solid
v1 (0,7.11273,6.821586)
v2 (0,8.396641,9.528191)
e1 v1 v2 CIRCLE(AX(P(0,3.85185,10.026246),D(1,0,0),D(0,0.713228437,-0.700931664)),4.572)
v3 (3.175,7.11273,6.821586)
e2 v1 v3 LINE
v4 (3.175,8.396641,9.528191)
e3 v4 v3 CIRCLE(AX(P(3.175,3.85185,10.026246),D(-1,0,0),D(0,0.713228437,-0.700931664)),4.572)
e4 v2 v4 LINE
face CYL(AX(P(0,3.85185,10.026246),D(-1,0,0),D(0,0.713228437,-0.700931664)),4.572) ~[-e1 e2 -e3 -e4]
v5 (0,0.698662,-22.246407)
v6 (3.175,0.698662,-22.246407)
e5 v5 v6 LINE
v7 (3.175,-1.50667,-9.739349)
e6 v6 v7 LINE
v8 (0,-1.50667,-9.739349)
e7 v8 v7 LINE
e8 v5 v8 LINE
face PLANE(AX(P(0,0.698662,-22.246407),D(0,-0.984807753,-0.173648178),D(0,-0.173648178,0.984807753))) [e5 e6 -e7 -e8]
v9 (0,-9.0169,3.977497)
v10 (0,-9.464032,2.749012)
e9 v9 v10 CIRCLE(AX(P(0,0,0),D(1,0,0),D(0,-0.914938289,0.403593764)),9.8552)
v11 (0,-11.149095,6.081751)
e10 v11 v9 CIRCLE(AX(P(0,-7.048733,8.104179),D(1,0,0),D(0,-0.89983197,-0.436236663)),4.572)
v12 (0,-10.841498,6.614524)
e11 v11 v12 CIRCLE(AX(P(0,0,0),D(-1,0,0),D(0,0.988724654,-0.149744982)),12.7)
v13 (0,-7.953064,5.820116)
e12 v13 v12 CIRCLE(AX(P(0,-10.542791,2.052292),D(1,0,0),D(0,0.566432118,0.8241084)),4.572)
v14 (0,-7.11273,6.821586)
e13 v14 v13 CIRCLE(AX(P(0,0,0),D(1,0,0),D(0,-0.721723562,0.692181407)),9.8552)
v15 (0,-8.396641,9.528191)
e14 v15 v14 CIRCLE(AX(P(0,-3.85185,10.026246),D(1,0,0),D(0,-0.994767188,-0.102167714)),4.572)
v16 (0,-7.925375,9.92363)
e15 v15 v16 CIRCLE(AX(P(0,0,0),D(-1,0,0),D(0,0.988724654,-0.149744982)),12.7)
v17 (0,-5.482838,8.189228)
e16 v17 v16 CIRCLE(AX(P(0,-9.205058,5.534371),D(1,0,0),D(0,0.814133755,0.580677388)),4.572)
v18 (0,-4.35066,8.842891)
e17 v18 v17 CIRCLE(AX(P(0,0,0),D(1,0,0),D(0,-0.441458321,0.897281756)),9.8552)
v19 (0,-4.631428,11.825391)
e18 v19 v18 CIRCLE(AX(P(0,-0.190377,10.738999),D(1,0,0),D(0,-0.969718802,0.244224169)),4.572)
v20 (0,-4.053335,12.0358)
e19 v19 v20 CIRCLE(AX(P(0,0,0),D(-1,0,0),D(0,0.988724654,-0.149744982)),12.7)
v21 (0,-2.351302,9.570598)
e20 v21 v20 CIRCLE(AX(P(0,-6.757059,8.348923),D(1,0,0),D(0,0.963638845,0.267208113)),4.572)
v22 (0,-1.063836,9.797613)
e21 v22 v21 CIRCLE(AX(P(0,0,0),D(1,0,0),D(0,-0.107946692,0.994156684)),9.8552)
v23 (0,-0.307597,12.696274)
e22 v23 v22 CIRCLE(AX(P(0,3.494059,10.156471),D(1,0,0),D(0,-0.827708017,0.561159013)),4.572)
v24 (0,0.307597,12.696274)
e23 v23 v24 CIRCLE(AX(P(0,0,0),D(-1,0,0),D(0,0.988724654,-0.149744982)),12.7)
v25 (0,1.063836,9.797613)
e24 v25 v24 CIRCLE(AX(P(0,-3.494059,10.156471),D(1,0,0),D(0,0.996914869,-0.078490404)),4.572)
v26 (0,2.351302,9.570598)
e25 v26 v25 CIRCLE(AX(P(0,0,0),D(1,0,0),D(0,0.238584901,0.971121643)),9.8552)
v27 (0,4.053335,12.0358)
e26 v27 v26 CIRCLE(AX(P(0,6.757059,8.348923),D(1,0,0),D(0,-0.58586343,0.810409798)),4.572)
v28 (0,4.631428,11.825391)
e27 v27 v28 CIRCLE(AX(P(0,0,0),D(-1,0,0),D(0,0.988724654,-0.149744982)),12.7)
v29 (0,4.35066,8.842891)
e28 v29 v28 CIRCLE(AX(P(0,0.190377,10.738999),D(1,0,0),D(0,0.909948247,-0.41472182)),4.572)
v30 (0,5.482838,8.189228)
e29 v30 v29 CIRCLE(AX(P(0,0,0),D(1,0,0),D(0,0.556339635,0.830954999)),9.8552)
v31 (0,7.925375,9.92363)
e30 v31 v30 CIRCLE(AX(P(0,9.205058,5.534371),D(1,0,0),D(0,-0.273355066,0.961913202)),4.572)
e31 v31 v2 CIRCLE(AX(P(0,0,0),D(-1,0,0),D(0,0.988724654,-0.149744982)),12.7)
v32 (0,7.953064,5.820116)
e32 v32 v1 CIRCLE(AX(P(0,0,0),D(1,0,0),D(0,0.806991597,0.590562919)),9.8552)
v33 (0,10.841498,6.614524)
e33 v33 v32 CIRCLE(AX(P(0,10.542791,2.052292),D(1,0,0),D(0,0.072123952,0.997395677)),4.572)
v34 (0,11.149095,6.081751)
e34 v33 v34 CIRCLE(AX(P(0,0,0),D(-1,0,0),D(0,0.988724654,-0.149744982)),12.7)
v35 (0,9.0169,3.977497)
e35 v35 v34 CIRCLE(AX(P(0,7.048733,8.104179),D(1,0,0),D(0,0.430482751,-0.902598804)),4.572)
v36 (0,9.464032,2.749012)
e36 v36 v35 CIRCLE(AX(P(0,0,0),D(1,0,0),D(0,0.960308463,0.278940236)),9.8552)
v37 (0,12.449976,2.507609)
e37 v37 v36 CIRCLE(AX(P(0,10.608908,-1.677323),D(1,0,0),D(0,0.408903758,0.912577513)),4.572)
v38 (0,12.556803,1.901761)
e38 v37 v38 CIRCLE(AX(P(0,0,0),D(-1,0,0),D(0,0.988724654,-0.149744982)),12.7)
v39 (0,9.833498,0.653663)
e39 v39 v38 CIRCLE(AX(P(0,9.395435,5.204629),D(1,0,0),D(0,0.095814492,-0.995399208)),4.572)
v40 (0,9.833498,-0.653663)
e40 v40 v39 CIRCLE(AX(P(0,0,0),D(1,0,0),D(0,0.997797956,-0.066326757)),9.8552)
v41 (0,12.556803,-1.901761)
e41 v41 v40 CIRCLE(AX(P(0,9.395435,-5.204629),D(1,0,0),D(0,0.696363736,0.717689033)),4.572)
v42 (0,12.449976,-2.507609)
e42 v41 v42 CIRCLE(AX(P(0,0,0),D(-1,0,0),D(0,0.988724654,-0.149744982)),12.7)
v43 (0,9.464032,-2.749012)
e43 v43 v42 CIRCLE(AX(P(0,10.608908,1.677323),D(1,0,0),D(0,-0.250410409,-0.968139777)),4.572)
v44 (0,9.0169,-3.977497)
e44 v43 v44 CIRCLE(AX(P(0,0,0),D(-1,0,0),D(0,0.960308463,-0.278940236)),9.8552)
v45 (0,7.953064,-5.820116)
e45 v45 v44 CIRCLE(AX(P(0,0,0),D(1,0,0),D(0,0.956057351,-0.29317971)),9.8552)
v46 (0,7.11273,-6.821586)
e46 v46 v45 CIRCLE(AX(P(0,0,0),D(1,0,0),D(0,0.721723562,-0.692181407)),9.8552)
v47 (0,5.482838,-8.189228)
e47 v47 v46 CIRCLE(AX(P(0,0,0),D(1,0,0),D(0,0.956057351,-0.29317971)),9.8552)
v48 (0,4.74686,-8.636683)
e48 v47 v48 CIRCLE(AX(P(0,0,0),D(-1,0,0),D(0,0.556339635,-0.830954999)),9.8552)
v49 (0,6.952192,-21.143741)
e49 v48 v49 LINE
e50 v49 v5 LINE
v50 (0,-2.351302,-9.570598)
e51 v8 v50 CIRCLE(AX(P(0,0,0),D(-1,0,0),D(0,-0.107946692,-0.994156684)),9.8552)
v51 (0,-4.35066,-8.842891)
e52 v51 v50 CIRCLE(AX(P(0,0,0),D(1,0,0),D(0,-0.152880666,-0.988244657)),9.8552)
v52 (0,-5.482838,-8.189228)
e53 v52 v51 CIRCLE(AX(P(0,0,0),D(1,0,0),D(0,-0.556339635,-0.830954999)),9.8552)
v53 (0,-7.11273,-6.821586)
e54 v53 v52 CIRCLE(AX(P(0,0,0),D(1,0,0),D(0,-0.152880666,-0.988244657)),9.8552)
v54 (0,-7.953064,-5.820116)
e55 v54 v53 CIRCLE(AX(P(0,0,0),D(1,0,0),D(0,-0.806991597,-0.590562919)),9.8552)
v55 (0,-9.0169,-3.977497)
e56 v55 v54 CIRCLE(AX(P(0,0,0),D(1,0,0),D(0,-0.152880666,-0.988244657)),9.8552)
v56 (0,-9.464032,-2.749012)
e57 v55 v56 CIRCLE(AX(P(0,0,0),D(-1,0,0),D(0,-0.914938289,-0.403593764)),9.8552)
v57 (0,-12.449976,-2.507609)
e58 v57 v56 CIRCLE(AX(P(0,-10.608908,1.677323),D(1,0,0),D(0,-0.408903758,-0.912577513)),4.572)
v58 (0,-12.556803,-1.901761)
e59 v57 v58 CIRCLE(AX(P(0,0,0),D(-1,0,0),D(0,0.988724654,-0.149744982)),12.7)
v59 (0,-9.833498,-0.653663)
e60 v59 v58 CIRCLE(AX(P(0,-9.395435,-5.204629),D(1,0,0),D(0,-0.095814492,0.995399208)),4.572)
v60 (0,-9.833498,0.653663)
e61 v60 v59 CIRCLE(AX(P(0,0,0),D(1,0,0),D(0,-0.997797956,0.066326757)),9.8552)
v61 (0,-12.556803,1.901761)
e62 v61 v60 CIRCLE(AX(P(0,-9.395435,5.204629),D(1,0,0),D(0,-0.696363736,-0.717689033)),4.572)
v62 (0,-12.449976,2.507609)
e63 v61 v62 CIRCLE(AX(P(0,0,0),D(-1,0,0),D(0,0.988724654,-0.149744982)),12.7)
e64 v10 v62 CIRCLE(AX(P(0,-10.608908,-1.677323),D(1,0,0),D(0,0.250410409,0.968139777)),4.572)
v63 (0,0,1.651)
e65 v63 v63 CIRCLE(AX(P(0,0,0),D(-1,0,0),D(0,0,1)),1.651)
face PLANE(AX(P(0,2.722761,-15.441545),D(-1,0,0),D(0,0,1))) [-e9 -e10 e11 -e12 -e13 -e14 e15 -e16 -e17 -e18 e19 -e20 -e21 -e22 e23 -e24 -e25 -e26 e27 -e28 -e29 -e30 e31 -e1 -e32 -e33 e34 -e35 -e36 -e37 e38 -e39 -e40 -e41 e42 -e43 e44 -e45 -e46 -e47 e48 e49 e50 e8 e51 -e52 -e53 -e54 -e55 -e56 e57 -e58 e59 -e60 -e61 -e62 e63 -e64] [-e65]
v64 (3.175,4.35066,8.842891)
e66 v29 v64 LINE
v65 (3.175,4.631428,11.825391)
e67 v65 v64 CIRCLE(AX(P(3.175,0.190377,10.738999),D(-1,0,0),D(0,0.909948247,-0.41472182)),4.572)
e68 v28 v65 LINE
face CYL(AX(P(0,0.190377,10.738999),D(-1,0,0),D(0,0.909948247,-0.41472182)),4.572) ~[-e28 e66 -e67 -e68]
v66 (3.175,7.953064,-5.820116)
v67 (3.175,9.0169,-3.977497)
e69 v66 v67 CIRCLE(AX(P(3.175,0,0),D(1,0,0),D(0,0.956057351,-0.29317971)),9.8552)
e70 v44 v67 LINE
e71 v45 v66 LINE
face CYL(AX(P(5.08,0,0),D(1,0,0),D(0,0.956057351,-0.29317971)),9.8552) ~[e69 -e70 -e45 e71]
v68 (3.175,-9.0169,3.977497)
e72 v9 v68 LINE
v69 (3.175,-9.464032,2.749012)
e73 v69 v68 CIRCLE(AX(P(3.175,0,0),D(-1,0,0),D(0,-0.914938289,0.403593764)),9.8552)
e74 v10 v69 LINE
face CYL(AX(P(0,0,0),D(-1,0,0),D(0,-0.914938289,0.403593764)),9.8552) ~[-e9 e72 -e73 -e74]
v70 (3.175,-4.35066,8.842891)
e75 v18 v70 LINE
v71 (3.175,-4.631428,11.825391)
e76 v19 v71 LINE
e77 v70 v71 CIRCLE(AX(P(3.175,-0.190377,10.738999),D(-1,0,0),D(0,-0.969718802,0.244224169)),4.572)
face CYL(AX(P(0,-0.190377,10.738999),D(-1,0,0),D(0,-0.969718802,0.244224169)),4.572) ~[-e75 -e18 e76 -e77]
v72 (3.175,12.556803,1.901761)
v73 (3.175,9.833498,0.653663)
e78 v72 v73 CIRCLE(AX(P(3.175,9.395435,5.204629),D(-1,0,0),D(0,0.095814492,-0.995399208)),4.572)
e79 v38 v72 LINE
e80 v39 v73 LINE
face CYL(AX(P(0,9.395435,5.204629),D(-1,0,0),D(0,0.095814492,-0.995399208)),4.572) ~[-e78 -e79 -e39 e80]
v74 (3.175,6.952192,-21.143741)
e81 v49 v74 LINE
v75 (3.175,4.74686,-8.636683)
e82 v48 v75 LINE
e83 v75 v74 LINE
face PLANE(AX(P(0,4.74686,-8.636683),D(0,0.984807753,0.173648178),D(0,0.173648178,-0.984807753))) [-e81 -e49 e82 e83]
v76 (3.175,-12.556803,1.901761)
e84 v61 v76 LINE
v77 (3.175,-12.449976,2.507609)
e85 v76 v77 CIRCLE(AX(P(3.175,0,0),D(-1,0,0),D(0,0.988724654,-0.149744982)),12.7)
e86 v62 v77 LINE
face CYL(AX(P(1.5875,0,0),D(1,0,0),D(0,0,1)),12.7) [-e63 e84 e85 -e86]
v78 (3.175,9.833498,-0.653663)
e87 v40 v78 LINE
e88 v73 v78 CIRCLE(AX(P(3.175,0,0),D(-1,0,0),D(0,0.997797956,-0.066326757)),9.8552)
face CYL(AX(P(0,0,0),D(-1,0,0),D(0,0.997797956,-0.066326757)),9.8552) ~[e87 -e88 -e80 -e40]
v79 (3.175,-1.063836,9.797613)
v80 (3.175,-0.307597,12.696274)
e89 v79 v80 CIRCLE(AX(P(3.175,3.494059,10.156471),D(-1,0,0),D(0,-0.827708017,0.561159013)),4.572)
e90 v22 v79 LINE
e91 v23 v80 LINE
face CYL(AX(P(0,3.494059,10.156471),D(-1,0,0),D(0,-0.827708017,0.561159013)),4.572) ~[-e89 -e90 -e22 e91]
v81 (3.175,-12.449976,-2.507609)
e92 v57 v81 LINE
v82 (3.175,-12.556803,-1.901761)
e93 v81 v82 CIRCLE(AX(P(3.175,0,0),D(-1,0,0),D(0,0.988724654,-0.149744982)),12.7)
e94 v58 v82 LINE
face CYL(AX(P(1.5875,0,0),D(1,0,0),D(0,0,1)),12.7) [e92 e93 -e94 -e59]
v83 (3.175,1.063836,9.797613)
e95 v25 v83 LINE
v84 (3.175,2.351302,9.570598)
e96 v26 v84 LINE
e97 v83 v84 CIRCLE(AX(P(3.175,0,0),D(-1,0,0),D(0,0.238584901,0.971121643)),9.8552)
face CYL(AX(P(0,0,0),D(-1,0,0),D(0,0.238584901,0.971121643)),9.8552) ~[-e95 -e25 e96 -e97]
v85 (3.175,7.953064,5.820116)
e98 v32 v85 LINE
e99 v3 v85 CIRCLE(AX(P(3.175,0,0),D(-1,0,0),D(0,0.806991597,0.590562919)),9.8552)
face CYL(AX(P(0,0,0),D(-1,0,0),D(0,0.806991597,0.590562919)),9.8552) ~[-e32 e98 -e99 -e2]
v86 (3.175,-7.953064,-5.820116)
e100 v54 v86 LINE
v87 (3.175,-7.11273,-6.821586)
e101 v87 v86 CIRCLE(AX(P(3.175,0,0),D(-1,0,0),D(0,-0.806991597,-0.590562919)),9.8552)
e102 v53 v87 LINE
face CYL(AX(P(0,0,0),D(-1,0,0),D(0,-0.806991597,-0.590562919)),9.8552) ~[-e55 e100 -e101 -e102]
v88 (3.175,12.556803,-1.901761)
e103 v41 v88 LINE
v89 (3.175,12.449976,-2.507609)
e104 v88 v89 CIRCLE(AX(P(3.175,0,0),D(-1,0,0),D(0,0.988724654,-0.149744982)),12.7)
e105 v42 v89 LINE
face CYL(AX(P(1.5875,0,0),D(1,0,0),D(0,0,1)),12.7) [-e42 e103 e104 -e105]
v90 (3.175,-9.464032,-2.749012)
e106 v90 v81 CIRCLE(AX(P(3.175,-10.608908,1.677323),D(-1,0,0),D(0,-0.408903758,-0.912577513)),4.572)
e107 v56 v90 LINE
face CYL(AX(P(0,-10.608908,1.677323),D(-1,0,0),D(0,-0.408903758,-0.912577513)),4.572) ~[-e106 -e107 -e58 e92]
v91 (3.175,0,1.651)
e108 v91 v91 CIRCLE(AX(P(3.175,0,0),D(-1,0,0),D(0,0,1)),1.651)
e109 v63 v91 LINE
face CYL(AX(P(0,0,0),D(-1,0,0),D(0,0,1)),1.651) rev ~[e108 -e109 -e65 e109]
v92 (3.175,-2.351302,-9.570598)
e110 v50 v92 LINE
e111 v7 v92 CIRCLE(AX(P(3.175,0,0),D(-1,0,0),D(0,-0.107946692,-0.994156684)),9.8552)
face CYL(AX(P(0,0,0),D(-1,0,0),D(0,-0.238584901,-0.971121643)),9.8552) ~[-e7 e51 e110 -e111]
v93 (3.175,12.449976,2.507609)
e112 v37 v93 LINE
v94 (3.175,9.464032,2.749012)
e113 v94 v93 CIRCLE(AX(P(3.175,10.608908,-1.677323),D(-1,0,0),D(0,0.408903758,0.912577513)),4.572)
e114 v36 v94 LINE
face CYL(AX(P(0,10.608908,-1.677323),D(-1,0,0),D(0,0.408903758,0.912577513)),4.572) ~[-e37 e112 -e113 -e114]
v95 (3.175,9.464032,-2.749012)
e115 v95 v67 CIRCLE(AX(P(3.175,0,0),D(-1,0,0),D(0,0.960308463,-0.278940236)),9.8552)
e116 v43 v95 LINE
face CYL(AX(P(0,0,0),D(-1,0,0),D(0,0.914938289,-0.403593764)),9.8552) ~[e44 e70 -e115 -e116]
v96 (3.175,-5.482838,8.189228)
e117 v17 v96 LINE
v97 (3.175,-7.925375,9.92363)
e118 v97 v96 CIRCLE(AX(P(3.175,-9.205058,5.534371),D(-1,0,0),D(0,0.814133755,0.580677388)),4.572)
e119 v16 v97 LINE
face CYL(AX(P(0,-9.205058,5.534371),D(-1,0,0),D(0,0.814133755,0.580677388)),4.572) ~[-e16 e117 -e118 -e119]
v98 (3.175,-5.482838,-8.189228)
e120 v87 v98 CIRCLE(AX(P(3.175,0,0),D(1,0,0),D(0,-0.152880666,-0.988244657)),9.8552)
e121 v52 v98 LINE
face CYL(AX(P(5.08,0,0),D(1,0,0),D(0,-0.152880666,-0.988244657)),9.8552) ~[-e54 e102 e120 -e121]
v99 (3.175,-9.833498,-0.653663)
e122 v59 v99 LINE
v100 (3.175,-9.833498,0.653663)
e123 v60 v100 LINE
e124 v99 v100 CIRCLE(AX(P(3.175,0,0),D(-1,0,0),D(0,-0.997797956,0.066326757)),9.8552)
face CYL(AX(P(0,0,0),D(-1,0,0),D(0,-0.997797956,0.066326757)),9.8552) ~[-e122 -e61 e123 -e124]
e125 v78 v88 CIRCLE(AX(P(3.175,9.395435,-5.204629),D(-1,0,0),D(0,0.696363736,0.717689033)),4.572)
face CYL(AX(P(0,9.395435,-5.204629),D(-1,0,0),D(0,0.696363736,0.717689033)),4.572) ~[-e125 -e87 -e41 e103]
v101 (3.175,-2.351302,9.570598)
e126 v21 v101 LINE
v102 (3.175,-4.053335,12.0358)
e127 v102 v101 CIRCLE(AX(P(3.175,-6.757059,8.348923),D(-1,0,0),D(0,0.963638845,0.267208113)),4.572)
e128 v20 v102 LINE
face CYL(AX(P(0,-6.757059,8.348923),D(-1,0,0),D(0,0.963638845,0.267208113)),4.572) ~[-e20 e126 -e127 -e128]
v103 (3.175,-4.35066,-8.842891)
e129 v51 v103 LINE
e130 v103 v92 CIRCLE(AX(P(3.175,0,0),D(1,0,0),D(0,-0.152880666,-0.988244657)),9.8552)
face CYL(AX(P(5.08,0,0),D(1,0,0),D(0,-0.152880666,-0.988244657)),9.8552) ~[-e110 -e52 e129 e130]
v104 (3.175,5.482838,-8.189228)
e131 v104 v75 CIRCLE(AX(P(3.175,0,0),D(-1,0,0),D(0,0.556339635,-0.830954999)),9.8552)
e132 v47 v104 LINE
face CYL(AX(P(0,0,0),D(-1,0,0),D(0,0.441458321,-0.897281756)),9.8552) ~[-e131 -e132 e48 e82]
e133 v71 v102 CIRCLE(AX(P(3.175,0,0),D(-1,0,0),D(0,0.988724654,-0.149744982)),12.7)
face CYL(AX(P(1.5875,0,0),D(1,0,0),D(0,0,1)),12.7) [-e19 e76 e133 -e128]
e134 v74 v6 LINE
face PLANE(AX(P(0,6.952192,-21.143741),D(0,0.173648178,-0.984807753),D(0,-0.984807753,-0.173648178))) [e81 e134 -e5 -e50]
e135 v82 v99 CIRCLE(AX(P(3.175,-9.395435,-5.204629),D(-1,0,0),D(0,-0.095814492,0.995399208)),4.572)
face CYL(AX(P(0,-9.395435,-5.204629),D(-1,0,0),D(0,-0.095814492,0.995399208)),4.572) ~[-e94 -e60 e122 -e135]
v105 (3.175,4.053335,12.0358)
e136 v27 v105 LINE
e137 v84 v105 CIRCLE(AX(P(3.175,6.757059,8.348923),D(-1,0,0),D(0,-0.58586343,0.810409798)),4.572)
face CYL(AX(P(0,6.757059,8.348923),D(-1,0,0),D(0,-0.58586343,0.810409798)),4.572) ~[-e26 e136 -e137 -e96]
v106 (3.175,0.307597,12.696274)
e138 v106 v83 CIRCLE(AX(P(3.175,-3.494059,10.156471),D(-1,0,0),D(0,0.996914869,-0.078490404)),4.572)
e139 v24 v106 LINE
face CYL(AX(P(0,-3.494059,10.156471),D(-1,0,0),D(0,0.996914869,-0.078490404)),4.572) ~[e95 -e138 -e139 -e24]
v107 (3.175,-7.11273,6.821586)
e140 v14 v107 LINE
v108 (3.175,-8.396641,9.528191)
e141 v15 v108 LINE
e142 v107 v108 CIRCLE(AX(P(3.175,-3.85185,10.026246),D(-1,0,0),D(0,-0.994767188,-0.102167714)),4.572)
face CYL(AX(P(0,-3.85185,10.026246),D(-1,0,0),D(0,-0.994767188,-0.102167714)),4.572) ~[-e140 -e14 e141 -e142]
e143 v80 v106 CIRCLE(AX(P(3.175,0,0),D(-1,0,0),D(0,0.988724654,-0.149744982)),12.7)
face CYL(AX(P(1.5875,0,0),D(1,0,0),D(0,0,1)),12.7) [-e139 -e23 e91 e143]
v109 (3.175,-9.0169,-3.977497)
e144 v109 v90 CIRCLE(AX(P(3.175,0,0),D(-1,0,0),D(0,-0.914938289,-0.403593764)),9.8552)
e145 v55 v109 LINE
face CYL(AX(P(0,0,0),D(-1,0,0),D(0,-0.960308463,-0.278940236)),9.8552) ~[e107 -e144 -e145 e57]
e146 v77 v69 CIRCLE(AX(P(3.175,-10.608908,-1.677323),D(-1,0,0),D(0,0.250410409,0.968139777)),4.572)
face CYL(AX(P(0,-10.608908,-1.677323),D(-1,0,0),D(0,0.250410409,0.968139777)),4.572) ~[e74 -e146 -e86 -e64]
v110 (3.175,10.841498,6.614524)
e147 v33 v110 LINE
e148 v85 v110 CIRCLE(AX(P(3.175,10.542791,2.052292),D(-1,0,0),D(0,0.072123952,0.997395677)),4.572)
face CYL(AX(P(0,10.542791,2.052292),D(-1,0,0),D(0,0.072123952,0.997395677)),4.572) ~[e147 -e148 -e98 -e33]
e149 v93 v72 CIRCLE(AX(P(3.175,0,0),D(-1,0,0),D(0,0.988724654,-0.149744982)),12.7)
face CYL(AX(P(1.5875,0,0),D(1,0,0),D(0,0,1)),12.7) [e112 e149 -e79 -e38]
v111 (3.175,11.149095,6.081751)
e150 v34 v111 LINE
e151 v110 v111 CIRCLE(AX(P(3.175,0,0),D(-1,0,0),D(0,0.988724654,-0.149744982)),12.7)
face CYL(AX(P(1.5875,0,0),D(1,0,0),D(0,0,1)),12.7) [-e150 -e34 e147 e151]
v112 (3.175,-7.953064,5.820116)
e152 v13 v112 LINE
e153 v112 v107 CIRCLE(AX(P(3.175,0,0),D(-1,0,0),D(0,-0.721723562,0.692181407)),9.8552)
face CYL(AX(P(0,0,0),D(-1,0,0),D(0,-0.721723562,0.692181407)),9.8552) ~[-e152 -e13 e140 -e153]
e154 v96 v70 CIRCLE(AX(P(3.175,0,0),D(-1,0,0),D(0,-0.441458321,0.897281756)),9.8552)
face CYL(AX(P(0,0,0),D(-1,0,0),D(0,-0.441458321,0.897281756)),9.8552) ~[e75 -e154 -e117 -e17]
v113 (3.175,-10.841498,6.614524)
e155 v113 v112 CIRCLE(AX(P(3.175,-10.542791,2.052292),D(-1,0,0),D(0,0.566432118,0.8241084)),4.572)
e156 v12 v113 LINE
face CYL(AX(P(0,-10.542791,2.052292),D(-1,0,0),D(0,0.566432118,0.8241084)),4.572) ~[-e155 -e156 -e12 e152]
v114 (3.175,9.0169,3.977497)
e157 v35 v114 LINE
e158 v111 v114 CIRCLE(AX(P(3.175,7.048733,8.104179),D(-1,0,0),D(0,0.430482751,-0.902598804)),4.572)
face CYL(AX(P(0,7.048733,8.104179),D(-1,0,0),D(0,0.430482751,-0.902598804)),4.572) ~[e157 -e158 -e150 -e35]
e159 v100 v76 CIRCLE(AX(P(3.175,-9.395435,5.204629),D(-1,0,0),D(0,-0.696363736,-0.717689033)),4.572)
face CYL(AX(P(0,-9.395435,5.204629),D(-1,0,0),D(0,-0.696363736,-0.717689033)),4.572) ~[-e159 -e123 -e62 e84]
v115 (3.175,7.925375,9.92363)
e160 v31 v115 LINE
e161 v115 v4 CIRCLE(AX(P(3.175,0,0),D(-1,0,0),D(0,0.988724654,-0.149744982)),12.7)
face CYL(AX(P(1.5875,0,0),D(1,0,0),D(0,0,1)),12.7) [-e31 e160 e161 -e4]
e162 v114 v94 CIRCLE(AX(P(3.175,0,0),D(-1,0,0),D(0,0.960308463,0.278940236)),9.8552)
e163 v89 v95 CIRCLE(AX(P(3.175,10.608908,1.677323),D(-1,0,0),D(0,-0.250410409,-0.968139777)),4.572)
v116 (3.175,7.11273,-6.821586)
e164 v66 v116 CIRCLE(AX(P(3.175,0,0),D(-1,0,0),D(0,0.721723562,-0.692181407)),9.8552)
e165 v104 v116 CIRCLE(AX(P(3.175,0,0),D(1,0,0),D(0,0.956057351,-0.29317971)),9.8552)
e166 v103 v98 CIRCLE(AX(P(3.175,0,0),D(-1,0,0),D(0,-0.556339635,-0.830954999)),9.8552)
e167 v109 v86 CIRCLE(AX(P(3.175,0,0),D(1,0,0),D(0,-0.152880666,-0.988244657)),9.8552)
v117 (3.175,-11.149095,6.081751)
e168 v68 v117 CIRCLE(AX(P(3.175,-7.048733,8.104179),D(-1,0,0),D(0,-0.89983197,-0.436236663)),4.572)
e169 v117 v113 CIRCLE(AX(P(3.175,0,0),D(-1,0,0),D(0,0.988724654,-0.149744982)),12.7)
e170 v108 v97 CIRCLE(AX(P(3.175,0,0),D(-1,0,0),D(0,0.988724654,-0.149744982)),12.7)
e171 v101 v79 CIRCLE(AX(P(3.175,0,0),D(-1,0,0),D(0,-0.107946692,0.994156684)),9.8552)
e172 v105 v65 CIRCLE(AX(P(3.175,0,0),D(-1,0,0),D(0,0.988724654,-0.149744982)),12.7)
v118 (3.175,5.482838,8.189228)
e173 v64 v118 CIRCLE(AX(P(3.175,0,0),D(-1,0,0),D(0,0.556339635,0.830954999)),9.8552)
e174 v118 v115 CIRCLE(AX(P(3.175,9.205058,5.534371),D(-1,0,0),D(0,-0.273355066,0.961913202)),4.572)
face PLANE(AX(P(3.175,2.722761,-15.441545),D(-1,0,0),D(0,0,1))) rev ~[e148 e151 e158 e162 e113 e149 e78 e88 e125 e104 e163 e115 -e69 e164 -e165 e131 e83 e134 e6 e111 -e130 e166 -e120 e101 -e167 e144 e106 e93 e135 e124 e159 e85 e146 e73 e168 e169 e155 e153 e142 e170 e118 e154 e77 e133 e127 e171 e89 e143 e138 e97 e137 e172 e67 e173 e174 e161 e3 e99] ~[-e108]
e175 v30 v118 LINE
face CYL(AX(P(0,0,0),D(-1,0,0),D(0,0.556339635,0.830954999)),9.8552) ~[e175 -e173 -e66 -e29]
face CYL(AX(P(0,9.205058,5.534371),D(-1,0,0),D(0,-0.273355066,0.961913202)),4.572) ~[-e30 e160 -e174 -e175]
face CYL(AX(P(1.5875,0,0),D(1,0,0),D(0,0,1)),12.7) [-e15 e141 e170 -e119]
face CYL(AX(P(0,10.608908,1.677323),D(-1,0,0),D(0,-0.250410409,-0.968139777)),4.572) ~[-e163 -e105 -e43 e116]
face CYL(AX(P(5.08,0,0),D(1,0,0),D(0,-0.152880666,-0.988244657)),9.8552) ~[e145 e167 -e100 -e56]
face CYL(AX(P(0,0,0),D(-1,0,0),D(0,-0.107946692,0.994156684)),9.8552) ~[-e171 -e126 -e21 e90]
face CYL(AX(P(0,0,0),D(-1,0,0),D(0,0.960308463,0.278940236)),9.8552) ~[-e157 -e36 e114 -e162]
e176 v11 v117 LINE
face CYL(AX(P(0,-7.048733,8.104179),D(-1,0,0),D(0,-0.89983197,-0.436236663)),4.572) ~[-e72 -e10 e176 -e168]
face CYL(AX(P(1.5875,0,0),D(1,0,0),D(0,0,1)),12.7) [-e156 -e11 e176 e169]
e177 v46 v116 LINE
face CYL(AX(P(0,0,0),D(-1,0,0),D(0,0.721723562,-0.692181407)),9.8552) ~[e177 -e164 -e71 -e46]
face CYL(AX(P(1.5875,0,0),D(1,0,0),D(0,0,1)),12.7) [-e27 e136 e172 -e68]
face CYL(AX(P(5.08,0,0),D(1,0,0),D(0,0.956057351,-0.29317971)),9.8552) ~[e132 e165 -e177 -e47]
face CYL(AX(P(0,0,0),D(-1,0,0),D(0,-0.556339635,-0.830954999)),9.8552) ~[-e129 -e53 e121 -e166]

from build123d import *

# Parameters (mm, degrees)
BASPROSKE_W                  = 3.175
BASPROSKE_H                  = 12.7
TOOTHCUT_DEPTH               = 19.238986403
TEETHCUTS_COUNT              = 18
TEETHCUTS_ANGLE              = 340
BORSKE_R                     = 1.5875
BORE_DEPTH                   = 50.8000508
CUT_EXTRUDE_THIN1_DEPTH      = 2.54
CUT_EXTRUDE_THIN1_DEPTH_BACK = 5.08
BOSS_EXTRUDE1_DEPTH          = 3.175
SKETCH9_R                    = 1.651
CUT_EXTRUDE2_DEPTH           = 3.175


with BuildPart() as part:
    # BasProSke → Base-Revolve (revolve)
    with BuildSketch(Plane(origin=(0, 0, 0), x_dir=(1, 0, 0), z_dir=(0, 1, 0)), mode=Mode.PRIVATE) as base_revolve_sk:
        with Locations((1.5875, 6.35)):
            Rectangle(BASPROSKE_W, BASPROSKE_H)
    revolve(base_revolve_sk.sketch.rotate(Axis((-10, 0, 0), (1, 0, 0)), 180), axis=Axis((-10, 0, 0), (1, 0, 0)))

    # TooCutSke → ToothCut (cut, through all)
    with BuildSketch(Plane(origin=(0, 0, 0), x_dir=(0, 0, -1), z_dir=(1, 0, 0))):
        with BuildLine():
            ThreePointArc((0.653663469, 9.833498417), (0, 9.8552), (-0.653663469, 9.833498417))
            ThreePointArc((-0.653663469, 9.833498417), (-1.05484238, 11.314407704), (-1.923354389, 12.579209556))
            ThreePointArc((-1.923354389, 12.579209556), (0, 12.7254), (1.923354389, 12.579209556))
            ThreePointArc((1.923354389, 12.579209556), (1.05484238, 11.314407704), (0.653663469, 9.833498417))
        make_face()
    toothcut = extrude(amount=TOOTHCUT_DEPTH, mode=Mode.SUBTRACT)

    # TeethCuts: ToothCut ×18 about axis
    teethcuts_axis = Axis((-10, 0, 0), (1, 0, 0))
    for i in range(1, TEETHCUTS_COUNT):
        add(toothcut.rotate(teethcuts_axis, i * TEETHCUTS_ANGLE / (TEETHCUTS_COUNT - 1)), mode=Mode.SUBTRACT)

    # BorSke → Bore (cut, symmetric)
    with BuildSketch(Plane(origin=(0, 0, 0), x_dir=(0, 0, -1), z_dir=(1, 0, 0))):
        with Locations(Location((0, 0, 0), (0, 0, 180))):
            Circle(BORSKE_R)
    extrude(amount=BORE_DEPTH, both=True, mode=Mode.SUBTRACT)

    # Sketch7 → Cut-Extrude-Thin1 (cut, two sides: drawn at the far end of the back side and taken through both)
    with BuildSketch(Plane.ZY.offset(-CUT_EXTRUDE_THIN1_DEPTH_BACK)):
        with BuildLine():
            Line((-10.823936545, 10.290898732), (-25.264431922, 12.837147681))
            Line((-25.264431922, 12.837147681), (-28.131363335, -3.422028321))
            Line((-28.131363335, -3.422028321), (-13.690867959, -5.968277271))
            ThreePointArc((-13.690867959, -5.968277271), (-11.782416361, -9.177955314), (-9.137407483, -11.813889433))
            Line((-9.137407483, -11.813889433), (-10.123749891, -15.359323522))
            ThreePointArc((-10.123749891, -15.359323522), (18.392184669, -0.355912967), (-9.521946872, 15.739493597))
            Line((-9.521946872, 15.739493597), (-8.708557038, 12.133475733))
            ThreePointArc((-8.708557038, 12.133475733), (-9.809604931, 11.261964755), (-10.823936545, 10.290898732))
        make_face()
        with BuildLine():
            Line((-8.636682816, 4.746859697), (-21.143741279, 6.952191553))
            Line((-21.143741279, 6.952191553), (-22.246407207, 0.698662322))
            Line((-22.246407207, 0.698662322), (-9.739348744, -1.506669535))
            ThreePointArc((-9.739348744, -1.506669535), (-7.549024322, -6.335392555), (-3.17353646, -9.330253661))
            Line((-3.17353646, -9.330253661), (-4.102105036, -12.668018169))
            ThreePointArc((-4.102105036, -12.668018169), (13.313553301, -0.235050135), (-3.652381497, 12.804923251))
            Line((-3.652381497, 12.804923251), (-2.889344669, 9.422136405))
            ThreePointArc((-2.889344669, 9.422136405), (-6.219073923, 7.64513483), (-8.636682816, 4.746859697))
        make_face(mode=Mode.SUBTRACT)
    extrude(amount=CUT_EXTRUDE_THIN1_DEPTH + CUT_EXTRUDE_THIN1_DEPTH_BACK, mode=Mode.SUBTRACT)

    # Sketch8 → Boss-Extrude1 (add)
    with BuildSketch(Plane.ZY):
        Polygon((-21.143741279, 6.952191553), (-22.246407207, 0.698662322), (-9.739348744, -1.506669535), (-8.636682816, 4.746859697), align=None)
    extrude(amount=-BOSS_EXTRUDE1_DEPTH)

    # Sketch9 → Cut-Extrude2 (cut)
    with BuildSketch(Plane.ZY):
        Circle(SKETCH9_R)
    extrude(amount=-CUT_EXTRUDE2_DEPTH, mode=Mode.SUBTRACT)


solid = part.part
